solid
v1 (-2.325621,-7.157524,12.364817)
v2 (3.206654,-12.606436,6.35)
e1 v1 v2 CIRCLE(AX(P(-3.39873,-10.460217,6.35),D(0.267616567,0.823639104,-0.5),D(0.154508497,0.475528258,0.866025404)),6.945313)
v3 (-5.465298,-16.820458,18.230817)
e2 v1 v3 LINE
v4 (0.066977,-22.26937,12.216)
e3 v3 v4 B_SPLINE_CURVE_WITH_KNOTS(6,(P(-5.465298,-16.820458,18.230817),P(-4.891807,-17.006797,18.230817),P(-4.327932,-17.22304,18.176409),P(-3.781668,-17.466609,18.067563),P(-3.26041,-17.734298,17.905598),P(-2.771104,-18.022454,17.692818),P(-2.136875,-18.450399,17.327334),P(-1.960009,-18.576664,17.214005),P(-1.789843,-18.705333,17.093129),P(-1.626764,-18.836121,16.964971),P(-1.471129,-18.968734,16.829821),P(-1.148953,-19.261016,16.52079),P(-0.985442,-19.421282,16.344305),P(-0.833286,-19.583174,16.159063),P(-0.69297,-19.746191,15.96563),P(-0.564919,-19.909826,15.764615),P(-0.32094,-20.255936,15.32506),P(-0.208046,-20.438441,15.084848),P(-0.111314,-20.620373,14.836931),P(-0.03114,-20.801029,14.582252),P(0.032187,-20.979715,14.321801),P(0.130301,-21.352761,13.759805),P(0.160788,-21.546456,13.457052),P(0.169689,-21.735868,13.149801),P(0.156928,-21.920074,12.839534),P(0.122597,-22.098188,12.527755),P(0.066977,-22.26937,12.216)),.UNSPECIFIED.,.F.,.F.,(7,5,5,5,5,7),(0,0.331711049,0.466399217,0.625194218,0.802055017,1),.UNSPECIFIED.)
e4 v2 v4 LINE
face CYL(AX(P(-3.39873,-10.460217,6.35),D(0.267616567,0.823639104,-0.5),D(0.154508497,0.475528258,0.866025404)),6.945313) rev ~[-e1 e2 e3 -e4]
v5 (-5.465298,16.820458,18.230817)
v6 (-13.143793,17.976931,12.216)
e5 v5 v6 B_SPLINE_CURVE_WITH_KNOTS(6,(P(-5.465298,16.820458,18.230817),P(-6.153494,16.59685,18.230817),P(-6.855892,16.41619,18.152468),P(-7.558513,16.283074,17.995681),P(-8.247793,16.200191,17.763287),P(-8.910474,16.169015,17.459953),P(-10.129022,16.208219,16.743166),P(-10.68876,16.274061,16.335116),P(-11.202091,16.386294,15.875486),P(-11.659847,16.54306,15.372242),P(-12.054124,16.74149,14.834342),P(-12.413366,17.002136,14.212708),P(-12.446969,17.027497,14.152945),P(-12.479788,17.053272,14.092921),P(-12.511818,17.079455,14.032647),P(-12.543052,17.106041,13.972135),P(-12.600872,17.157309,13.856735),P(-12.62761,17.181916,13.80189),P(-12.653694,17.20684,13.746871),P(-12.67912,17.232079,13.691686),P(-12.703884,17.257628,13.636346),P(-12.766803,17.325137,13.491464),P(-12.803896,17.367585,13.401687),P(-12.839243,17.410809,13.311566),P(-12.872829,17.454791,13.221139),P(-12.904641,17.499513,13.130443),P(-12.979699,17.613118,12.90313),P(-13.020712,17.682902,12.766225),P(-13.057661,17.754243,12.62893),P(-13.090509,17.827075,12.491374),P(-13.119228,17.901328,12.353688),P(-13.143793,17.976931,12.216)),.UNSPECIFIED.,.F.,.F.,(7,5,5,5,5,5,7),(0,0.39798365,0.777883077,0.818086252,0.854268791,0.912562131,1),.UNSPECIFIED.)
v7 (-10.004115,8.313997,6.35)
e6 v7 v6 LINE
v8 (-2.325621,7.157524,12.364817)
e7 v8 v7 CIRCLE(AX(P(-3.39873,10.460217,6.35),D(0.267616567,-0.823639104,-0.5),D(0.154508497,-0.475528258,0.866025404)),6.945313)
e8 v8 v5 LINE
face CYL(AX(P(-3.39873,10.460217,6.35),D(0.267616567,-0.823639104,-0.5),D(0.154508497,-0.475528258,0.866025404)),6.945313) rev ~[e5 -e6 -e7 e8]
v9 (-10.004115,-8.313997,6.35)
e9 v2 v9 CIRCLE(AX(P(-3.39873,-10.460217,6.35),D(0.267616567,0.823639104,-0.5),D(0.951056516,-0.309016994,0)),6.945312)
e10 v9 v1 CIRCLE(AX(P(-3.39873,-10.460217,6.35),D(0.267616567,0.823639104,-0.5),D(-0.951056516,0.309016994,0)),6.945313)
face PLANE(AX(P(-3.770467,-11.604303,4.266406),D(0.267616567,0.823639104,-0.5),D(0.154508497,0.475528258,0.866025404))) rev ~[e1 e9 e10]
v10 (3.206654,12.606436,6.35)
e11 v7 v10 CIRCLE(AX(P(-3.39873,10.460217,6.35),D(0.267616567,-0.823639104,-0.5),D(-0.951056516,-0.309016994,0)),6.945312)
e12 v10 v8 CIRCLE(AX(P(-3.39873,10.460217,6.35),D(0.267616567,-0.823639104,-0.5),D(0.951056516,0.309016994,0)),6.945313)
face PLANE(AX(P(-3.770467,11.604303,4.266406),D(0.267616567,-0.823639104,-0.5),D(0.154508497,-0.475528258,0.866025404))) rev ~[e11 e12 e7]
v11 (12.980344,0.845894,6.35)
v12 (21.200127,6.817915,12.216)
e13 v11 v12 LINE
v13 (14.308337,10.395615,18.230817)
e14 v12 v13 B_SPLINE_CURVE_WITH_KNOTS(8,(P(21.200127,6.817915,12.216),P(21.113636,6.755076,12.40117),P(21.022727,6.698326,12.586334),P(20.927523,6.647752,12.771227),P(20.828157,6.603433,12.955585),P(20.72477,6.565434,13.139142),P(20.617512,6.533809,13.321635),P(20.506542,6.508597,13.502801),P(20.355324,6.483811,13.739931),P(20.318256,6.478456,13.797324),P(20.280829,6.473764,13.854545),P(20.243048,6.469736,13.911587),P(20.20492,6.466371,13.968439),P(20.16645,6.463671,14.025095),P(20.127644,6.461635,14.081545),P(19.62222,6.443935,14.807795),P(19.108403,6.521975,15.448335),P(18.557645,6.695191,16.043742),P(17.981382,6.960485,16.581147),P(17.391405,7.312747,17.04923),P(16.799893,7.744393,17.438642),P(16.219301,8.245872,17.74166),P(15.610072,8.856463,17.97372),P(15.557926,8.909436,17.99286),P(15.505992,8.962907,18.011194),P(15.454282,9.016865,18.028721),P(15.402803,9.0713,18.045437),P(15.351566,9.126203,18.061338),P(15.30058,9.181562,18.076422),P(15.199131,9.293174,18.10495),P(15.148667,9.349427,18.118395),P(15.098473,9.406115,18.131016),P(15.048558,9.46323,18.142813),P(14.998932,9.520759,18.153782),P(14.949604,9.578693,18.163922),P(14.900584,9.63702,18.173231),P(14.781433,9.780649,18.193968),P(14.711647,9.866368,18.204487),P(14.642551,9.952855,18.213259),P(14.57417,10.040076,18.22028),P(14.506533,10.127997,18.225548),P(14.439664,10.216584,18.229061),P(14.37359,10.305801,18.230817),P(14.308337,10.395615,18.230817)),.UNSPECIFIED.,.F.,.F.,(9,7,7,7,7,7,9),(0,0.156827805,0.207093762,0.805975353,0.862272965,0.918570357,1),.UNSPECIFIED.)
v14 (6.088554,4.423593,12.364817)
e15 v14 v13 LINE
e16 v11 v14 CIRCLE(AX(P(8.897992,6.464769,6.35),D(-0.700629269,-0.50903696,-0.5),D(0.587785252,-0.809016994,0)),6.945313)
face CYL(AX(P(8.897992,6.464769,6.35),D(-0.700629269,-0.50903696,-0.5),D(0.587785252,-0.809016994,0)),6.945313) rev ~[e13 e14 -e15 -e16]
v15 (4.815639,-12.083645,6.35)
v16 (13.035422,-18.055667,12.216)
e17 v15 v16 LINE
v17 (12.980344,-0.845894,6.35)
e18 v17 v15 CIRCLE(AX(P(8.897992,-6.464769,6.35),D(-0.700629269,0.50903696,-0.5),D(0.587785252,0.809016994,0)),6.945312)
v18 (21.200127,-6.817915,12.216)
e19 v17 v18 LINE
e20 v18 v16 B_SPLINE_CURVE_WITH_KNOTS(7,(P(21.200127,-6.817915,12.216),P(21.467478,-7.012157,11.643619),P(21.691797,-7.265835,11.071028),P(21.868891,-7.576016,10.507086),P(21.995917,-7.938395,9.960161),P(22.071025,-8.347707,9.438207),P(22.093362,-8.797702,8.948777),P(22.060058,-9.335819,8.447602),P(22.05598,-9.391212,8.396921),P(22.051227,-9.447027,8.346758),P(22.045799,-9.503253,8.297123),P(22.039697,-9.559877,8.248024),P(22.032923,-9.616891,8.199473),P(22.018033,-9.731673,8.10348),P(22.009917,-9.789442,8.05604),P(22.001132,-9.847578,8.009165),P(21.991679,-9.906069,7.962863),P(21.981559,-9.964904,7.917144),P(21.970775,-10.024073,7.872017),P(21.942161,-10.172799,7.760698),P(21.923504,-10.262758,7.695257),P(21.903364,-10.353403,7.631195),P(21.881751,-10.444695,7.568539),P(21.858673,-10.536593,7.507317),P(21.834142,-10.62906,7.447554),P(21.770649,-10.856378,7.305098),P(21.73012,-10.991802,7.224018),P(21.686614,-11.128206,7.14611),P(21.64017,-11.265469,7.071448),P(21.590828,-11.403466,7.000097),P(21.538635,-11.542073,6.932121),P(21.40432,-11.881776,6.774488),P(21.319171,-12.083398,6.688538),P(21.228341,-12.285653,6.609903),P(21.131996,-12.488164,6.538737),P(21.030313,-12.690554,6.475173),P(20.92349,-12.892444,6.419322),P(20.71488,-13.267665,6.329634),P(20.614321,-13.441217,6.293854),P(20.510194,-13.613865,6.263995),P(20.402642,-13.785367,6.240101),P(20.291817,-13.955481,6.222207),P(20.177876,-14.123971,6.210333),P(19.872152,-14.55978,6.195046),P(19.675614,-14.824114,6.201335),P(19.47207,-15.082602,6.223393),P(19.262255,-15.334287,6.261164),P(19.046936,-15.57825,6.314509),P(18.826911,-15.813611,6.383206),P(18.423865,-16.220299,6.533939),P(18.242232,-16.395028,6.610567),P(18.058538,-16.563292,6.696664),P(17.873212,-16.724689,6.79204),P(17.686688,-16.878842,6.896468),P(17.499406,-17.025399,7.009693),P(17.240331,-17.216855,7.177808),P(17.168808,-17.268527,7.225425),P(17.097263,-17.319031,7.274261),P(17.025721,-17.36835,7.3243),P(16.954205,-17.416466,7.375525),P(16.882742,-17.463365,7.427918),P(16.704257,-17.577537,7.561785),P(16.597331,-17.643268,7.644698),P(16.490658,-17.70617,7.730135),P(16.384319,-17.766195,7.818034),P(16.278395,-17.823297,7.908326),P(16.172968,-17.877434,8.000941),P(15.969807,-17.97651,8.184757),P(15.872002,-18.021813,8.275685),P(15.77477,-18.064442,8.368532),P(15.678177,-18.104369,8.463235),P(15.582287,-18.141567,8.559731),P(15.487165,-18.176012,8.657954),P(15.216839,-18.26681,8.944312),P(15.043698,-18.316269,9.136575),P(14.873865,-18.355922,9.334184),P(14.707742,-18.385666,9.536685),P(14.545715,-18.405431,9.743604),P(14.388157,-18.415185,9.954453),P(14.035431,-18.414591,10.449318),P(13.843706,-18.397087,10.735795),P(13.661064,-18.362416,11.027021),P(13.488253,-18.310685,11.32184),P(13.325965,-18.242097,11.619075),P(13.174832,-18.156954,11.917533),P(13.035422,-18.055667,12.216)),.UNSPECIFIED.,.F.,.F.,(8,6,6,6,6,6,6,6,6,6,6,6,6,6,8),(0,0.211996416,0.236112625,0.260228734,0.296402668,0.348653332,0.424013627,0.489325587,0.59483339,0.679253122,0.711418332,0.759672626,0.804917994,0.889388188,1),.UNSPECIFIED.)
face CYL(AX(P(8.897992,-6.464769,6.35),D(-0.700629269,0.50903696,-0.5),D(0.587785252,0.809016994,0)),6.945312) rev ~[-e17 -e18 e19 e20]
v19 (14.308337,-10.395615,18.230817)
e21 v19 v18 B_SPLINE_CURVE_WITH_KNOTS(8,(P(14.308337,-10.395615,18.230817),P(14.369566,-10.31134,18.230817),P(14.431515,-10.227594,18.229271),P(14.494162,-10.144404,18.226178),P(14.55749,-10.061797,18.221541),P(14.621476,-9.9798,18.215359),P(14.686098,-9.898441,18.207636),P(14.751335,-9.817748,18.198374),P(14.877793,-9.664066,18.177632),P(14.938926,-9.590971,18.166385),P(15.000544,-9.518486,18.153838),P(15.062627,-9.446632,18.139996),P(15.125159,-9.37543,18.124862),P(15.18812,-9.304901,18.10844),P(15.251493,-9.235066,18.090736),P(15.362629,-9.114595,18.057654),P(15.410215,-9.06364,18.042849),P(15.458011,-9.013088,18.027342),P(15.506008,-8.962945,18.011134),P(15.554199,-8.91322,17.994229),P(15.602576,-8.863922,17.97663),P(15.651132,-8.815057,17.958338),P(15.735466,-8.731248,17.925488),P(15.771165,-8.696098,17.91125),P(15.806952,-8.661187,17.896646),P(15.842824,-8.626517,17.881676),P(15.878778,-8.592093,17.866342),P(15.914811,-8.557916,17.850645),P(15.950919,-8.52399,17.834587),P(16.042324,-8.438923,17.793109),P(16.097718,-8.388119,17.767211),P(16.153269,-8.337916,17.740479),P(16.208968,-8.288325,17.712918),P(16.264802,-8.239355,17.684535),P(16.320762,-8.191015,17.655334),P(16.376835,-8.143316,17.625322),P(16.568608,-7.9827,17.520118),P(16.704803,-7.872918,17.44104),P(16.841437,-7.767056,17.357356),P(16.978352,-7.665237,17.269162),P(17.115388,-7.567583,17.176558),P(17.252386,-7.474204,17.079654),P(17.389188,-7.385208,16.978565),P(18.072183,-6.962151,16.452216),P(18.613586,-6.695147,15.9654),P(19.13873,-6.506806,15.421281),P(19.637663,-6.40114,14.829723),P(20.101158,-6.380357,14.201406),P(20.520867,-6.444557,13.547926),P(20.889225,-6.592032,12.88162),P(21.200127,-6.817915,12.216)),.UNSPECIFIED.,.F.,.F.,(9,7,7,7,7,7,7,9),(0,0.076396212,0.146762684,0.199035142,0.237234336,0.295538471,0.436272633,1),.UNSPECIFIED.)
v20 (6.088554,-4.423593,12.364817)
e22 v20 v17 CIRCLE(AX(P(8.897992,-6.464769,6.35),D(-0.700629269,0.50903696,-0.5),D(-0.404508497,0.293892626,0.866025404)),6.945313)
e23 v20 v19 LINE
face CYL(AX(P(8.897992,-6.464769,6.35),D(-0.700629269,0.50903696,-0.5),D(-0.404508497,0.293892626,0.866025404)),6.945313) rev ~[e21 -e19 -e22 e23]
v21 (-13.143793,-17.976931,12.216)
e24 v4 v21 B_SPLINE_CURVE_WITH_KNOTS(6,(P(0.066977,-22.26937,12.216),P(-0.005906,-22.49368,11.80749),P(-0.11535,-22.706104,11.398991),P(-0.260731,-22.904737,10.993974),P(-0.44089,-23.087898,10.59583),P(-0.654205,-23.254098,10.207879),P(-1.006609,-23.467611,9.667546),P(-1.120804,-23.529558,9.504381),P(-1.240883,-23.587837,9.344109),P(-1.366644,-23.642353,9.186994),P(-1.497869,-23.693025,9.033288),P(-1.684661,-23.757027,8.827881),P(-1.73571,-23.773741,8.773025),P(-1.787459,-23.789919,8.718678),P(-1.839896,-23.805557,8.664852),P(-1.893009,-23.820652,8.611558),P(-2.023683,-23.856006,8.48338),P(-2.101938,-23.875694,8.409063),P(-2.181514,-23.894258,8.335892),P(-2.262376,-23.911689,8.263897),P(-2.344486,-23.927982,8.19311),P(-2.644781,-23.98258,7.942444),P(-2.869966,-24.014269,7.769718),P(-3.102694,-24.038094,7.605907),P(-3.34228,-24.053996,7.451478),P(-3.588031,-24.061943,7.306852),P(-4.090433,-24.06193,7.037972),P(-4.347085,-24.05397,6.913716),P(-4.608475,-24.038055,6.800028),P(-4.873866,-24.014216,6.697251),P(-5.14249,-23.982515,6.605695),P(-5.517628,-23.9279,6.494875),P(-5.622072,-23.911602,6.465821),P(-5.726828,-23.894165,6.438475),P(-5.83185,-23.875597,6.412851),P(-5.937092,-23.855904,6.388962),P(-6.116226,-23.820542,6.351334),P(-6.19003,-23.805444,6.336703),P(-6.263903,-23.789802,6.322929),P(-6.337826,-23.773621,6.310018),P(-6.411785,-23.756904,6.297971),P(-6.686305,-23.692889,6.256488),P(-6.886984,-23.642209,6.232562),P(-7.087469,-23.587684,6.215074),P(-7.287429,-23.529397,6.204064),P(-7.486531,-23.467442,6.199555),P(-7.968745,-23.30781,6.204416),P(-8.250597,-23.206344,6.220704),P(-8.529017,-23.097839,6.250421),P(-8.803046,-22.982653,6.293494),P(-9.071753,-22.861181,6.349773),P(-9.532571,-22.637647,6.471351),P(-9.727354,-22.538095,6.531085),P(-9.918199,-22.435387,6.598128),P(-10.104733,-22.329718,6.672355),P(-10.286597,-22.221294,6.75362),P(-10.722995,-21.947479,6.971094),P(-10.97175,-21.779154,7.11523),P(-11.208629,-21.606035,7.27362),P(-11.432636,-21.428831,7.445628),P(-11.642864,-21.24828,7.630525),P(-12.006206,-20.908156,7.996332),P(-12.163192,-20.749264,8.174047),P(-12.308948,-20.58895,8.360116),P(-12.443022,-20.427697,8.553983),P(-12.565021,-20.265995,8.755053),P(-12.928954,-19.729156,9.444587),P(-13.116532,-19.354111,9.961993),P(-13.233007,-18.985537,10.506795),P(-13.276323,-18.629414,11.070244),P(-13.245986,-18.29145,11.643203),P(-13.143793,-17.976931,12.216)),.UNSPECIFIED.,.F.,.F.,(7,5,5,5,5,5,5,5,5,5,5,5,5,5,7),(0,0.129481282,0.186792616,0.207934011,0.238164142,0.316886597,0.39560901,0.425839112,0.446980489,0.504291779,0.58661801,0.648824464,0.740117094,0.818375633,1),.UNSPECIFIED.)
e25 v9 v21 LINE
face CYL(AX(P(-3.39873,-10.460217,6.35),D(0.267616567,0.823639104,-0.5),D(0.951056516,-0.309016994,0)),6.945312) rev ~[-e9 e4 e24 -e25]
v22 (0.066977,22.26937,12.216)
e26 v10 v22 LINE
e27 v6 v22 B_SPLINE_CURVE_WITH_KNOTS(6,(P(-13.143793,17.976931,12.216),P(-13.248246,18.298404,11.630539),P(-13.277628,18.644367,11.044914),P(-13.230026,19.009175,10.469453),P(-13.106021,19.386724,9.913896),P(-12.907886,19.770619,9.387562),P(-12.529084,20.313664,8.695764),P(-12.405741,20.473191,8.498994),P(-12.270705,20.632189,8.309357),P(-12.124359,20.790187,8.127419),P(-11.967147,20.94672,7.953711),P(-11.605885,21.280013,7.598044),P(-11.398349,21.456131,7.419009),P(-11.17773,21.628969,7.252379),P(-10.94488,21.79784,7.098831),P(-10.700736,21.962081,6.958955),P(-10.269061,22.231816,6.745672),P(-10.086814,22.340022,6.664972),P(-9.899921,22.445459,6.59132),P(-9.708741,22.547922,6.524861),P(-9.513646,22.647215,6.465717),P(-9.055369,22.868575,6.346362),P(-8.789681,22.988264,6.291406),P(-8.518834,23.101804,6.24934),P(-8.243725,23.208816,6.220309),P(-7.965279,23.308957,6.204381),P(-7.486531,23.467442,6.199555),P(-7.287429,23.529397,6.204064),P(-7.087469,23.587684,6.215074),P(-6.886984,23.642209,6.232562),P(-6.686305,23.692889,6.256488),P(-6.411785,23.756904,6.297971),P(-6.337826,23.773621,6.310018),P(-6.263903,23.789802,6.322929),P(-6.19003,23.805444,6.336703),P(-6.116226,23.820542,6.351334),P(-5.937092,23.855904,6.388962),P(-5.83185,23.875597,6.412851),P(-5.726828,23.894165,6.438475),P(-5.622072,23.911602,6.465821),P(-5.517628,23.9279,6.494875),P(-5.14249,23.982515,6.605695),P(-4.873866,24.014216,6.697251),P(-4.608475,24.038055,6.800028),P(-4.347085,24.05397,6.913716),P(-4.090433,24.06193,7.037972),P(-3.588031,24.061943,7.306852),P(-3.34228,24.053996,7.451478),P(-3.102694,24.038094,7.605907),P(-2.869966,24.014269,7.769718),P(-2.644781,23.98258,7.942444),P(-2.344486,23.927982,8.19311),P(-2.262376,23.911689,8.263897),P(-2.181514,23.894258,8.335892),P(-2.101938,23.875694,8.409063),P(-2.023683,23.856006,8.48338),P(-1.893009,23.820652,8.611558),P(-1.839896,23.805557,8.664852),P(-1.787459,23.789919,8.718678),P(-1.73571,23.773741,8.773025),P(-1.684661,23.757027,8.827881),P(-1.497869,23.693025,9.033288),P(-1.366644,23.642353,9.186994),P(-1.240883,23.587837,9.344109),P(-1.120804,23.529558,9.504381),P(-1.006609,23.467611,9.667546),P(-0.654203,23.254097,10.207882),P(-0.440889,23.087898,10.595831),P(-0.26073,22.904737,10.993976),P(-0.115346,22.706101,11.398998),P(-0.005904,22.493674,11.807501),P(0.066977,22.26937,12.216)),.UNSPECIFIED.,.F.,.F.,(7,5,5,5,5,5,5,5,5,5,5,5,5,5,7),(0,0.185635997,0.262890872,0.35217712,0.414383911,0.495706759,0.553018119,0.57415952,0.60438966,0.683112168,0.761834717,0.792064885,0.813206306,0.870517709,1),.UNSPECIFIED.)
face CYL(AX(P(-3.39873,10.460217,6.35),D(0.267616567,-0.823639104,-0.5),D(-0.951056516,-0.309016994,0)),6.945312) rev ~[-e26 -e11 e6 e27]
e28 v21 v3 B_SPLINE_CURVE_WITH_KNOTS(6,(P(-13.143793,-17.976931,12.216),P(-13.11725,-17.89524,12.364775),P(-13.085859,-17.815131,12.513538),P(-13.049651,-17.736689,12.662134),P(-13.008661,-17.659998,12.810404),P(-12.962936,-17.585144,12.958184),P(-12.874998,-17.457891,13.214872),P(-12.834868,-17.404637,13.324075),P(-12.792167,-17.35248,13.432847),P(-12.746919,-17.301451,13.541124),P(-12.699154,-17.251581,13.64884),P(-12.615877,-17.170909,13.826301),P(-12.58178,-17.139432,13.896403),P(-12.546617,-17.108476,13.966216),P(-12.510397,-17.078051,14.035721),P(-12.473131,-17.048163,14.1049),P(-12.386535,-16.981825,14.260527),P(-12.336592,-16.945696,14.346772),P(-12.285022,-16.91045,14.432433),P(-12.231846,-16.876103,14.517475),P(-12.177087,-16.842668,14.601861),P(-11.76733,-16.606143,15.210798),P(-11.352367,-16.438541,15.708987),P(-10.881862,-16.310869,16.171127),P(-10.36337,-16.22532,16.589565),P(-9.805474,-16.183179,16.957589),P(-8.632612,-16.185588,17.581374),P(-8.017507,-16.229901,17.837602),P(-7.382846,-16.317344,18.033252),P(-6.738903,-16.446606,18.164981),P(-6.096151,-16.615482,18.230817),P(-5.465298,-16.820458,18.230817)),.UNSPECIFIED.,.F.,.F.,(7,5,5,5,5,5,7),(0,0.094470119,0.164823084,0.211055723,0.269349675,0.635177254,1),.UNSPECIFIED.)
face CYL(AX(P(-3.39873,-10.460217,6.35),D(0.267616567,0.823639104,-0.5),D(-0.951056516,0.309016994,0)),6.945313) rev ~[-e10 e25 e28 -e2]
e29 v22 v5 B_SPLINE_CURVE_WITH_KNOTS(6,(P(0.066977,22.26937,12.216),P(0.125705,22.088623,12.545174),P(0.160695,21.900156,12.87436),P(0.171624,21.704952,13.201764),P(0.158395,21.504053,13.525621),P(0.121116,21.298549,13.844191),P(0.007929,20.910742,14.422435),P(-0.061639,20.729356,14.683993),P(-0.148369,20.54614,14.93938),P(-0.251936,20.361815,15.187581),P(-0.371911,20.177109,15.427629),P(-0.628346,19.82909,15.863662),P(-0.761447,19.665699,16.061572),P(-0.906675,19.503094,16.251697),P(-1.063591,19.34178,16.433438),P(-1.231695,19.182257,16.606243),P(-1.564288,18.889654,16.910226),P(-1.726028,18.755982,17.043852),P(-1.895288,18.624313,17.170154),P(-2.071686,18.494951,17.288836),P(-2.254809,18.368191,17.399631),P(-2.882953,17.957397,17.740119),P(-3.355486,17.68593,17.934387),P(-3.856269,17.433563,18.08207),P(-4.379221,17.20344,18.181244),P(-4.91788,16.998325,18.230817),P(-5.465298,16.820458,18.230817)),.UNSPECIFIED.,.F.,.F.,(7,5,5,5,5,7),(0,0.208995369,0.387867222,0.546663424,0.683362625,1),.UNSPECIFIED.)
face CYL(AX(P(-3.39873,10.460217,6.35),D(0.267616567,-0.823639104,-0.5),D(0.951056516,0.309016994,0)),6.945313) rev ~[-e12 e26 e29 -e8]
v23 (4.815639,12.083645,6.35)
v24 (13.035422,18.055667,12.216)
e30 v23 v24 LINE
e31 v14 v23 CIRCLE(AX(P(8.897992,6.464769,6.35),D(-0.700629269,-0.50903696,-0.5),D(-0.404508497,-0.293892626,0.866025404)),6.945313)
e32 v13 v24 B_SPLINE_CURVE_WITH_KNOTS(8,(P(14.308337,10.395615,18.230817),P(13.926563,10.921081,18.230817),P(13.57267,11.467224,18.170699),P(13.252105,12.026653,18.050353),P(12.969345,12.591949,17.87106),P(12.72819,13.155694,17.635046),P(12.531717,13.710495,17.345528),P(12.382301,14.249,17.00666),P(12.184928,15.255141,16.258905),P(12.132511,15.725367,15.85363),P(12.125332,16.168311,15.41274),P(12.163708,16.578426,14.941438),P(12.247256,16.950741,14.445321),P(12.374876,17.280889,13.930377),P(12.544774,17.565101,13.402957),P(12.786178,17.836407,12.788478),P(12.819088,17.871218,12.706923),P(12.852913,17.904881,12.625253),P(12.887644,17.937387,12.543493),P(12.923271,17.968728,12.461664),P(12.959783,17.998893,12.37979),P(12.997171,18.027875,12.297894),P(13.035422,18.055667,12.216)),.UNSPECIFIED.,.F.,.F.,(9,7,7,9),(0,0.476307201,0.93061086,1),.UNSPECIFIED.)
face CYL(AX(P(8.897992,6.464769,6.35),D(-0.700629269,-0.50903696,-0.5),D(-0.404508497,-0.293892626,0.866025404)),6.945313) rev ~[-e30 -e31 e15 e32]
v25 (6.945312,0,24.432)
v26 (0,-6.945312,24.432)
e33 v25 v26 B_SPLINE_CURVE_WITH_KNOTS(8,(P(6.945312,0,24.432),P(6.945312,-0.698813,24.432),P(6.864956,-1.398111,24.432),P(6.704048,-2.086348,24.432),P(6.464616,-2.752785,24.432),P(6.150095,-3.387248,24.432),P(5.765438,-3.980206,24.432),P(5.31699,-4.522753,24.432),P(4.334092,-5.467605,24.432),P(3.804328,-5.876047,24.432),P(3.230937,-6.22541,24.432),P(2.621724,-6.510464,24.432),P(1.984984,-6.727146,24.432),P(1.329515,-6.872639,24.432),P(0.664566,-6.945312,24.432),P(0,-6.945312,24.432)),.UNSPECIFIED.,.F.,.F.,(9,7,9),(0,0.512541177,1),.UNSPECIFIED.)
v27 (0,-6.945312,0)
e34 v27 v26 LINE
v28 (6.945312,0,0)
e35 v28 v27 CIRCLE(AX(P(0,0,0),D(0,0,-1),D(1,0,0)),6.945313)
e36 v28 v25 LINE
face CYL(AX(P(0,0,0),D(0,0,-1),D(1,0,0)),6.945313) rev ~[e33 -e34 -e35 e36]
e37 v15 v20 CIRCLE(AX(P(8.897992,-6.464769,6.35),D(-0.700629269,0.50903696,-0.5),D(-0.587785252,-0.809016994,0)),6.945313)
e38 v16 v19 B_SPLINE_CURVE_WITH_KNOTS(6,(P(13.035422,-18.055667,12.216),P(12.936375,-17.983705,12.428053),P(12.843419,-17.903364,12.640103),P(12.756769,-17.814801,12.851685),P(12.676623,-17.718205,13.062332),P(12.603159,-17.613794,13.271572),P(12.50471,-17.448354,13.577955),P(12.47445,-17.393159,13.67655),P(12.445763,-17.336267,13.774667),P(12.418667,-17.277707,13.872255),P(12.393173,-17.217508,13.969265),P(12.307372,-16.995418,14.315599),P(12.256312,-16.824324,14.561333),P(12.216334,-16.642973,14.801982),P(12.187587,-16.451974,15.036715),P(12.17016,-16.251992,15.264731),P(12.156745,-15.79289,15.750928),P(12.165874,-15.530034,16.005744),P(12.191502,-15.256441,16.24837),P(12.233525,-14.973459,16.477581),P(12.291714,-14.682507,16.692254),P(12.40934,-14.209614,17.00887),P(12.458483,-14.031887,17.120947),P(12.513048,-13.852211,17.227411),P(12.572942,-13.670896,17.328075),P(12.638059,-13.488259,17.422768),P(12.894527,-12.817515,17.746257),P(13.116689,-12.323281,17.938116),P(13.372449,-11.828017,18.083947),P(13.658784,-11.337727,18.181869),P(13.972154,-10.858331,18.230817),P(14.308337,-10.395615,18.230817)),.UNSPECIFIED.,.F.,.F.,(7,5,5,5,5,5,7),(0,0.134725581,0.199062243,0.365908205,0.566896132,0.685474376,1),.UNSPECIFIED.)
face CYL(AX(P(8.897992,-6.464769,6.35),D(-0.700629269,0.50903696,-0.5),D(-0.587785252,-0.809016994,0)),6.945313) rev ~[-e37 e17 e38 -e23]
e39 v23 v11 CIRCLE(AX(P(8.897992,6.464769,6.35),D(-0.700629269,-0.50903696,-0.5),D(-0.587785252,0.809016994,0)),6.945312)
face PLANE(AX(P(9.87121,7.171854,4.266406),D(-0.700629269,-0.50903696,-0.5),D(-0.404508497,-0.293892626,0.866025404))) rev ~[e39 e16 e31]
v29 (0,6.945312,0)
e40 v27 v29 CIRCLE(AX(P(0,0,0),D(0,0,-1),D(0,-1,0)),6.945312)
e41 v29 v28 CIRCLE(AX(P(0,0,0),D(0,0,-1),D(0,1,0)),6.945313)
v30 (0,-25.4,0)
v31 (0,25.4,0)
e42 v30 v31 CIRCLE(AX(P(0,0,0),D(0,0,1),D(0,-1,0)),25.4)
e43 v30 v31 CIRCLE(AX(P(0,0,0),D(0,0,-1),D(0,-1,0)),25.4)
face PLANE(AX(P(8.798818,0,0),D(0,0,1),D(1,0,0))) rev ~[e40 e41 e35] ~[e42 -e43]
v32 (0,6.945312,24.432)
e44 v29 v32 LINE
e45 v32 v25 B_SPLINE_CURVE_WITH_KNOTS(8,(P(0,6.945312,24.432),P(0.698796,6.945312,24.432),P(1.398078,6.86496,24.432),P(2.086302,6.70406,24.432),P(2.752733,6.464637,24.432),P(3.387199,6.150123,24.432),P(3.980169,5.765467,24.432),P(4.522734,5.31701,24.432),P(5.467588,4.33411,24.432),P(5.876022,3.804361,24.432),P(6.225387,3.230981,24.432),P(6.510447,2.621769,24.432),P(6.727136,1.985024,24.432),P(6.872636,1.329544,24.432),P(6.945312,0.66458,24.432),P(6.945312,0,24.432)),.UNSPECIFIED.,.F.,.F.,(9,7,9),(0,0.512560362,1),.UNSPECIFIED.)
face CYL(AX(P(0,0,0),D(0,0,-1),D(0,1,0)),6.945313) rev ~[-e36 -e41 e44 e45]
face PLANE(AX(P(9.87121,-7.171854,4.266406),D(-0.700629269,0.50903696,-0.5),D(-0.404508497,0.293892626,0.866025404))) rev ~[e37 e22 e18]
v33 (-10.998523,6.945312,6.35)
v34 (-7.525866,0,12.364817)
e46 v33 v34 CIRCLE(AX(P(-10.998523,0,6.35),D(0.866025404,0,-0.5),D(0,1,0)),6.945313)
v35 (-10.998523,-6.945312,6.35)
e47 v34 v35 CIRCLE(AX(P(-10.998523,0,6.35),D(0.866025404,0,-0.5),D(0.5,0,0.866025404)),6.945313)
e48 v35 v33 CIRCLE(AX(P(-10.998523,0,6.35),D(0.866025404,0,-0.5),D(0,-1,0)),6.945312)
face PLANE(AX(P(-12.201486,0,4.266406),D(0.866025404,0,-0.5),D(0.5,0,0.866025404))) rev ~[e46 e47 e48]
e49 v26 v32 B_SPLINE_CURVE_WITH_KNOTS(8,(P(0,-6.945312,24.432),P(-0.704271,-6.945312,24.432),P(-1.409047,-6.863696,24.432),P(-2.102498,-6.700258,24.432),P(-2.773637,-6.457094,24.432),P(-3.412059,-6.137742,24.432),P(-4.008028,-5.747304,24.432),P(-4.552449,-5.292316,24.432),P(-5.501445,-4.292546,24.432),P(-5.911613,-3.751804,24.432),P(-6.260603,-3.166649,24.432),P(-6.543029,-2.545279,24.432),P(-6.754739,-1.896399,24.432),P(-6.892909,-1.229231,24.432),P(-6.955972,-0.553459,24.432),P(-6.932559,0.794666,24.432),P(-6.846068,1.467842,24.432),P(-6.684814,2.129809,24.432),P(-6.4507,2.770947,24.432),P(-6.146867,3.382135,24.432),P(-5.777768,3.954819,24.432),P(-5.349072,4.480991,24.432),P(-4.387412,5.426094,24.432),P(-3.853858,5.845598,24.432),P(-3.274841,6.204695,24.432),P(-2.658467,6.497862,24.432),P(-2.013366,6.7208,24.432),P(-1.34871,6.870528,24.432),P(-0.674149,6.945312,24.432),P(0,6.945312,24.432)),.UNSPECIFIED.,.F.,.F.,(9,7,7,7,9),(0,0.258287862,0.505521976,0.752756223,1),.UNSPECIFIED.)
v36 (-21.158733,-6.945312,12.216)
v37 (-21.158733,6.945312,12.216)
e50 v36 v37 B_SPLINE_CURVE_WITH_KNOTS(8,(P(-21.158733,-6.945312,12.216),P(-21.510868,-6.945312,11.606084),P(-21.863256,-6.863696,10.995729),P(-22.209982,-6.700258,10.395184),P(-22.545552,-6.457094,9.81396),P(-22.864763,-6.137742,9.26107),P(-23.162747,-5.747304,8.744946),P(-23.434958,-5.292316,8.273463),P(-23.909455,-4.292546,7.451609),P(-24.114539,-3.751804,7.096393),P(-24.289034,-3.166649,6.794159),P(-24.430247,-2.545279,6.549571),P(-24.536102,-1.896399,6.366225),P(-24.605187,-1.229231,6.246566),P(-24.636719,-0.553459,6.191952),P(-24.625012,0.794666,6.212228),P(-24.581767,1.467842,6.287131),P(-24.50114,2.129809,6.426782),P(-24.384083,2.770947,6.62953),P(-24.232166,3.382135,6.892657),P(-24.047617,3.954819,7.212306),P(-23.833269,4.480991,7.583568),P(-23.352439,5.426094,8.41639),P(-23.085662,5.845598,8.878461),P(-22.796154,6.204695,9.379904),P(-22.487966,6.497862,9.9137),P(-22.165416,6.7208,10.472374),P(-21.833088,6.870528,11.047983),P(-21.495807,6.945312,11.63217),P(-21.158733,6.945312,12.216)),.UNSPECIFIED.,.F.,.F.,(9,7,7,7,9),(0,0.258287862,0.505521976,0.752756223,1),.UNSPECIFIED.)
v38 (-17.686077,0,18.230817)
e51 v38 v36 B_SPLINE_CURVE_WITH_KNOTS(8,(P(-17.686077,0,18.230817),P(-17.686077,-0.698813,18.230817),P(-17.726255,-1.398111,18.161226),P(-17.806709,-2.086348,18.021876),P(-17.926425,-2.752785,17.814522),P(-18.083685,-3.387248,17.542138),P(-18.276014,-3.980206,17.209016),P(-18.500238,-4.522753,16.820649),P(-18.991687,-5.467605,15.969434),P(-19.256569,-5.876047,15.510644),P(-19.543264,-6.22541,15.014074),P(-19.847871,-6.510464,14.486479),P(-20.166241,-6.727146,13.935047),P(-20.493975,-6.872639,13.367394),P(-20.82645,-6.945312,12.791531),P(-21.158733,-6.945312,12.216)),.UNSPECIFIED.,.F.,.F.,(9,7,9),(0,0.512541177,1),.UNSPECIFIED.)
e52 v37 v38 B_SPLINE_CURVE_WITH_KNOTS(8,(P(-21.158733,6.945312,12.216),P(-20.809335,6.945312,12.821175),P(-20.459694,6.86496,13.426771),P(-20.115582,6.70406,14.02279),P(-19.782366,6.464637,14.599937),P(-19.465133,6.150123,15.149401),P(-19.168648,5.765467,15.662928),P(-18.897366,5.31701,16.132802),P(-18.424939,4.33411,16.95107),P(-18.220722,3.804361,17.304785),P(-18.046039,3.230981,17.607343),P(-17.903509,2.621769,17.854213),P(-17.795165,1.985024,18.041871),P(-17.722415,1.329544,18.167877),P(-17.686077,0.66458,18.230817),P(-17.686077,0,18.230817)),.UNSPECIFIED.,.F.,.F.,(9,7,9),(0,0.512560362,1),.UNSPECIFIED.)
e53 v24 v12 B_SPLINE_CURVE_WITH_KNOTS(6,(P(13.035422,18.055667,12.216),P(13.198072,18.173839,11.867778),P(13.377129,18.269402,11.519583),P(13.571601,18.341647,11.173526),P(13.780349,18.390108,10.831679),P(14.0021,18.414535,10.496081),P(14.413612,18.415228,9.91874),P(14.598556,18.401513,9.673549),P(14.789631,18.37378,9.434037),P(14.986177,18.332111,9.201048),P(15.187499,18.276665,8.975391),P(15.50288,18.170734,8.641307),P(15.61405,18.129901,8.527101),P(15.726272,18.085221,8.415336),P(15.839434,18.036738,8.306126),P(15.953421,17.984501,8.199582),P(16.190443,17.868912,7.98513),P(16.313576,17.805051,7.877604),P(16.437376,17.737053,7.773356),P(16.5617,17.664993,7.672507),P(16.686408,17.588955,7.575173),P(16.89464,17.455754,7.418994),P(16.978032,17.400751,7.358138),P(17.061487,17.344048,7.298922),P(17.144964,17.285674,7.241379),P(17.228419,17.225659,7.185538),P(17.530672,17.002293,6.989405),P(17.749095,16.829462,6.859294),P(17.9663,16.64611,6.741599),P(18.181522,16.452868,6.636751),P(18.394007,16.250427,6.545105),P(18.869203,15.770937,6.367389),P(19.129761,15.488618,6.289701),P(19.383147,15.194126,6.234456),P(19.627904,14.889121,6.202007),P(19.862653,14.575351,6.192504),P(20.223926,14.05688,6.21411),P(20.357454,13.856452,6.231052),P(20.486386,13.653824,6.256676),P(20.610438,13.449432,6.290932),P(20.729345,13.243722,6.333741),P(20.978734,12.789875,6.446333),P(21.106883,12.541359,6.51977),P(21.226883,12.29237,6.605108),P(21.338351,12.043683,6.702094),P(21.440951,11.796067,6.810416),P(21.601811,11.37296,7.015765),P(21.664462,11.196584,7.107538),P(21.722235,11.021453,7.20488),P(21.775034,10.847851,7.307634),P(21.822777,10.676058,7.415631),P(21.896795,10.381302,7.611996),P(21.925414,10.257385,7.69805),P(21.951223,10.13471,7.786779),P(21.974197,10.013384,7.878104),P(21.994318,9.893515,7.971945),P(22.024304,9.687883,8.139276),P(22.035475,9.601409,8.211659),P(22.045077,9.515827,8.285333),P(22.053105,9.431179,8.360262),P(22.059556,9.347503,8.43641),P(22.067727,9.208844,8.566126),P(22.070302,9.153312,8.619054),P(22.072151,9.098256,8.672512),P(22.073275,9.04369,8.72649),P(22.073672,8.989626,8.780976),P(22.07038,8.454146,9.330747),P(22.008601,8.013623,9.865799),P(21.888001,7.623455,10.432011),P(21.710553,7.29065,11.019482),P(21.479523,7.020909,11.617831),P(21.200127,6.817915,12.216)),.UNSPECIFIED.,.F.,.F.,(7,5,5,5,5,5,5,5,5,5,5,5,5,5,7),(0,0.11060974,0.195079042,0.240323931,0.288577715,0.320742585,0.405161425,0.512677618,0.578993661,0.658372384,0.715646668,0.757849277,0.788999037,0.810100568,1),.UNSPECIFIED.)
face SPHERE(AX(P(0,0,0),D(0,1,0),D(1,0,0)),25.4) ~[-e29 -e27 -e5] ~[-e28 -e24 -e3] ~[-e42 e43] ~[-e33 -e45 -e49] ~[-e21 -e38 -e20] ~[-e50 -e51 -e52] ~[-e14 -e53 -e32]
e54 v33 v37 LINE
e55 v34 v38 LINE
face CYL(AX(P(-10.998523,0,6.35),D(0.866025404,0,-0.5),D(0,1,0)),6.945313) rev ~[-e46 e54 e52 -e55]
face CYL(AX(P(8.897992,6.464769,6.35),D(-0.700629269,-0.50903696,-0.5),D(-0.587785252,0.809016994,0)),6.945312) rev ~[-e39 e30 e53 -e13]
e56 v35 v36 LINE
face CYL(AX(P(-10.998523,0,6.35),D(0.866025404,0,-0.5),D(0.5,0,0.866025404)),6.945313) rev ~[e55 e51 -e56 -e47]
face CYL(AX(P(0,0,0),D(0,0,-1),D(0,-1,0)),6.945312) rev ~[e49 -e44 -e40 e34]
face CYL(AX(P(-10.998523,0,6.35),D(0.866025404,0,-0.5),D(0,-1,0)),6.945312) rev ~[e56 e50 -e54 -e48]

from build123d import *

# Parameters (mm, degrees)
F1_ANGLE = 180
F3_DEPTH = 38.1
F4_ANGLE = 60
F8_COUNT = 5


with BuildPart() as f1:
    # F0 (on Top) → F1 (revolve)
    with BuildSketch(Plane.XY):
        with BuildLine():
            Line((0, 0), (0, -25.4))
            ThreePointArc((0, -25.4), (25.4, 0), (0, 25.4))
            Line((0, 25.4), (0, 0))
        make_face()
    revolve(axis=Axis((0, -19.9486762285, 0), (0, -1, 0)), revolution_arc=F1_ANGLE)


with BuildPart() as f3:
    # F2 (on face) → F3 (new body)
    with BuildSketch(Plane(origin=(0, 0, 0), x_dir=(1, 0, 0), z_dir=(0, 0, -1))):
        with BuildLine():
            Line((0, -6.9453125), (0, 6.9453125))
            ThreePointArc((0, 6.9453125), (-6.9453125, 0), (0, -6.9453125))
        make_face()
        with BuildLine():
            ThreePointArc((0, -6.9453125), (4.9110775662, -4.9110775662), (6.9453125, 0))
            ThreePointArc((6.9453125, 0), (4.9110775662, 4.9110775662), (0, 6.9453125))
            Line((0, 6.9453125), (0, -6.9453125))
        make_face()
    extrude(amount=-F3_DEPTH)


with BuildPart() as f4_1:
    # F4: copy of F3
    add(f3.part.rotate(Axis((0, 0.6129407927, 0), (0, -1, 0)), F4_ANGLE))


with BuildPart() as f4_1_1:
    # F7: moved
    add(f4_1.part.moved(Location((-10.9985226281, 0, 6.35))))


with BuildPart() as f8_1:
    # F8: instance of F4_1
    add(f4_1_1.part.rotate(Axis((0, 0, 10.6922788545), (0, 0, -1)), 1 * 360 / F8_COUNT))


with BuildPart() as f8_2:
    # F8: instance of F4_1
    add(f4_1_1.part.rotate(Axis((0, 0, 10.6922788545), (0, 0, -1)), 2 * 360 / F8_COUNT))


with BuildPart() as f8_3:
    # F8: instance of F4_1
    add(f4_1_1.part.rotate(Axis((0, 0, 10.6922788545), (0, 0, -1)), 3 * 360 / F8_COUNT))


with BuildPart() as f8_4:
    # F8: instance of F4_1
    add(f4_1_1.part.rotate(Axis((0, 0, 10.6922788545), (0, 0, -1)), 4 * 360 / F8_COUNT))


with BuildPart() as f1_1:
    add(f1.part)

    # F9: cut F8_1, F8_2, F8_3, F8_4, F4_1, F3
    add(f8_1.part, mode=Mode.SUBTRACT)
    add(f8_2.part, mode=Mode.SUBTRACT)
    add(f8_3.part, mode=Mode.SUBTRACT)
    add(f8_4.part, mode=Mode.SUBTRACT)
    add(f4_1_1.part, mode=Mode.SUBTRACT)
    add(f3.part, mode=Mode.SUBTRACT)


solid = f1_1.part
